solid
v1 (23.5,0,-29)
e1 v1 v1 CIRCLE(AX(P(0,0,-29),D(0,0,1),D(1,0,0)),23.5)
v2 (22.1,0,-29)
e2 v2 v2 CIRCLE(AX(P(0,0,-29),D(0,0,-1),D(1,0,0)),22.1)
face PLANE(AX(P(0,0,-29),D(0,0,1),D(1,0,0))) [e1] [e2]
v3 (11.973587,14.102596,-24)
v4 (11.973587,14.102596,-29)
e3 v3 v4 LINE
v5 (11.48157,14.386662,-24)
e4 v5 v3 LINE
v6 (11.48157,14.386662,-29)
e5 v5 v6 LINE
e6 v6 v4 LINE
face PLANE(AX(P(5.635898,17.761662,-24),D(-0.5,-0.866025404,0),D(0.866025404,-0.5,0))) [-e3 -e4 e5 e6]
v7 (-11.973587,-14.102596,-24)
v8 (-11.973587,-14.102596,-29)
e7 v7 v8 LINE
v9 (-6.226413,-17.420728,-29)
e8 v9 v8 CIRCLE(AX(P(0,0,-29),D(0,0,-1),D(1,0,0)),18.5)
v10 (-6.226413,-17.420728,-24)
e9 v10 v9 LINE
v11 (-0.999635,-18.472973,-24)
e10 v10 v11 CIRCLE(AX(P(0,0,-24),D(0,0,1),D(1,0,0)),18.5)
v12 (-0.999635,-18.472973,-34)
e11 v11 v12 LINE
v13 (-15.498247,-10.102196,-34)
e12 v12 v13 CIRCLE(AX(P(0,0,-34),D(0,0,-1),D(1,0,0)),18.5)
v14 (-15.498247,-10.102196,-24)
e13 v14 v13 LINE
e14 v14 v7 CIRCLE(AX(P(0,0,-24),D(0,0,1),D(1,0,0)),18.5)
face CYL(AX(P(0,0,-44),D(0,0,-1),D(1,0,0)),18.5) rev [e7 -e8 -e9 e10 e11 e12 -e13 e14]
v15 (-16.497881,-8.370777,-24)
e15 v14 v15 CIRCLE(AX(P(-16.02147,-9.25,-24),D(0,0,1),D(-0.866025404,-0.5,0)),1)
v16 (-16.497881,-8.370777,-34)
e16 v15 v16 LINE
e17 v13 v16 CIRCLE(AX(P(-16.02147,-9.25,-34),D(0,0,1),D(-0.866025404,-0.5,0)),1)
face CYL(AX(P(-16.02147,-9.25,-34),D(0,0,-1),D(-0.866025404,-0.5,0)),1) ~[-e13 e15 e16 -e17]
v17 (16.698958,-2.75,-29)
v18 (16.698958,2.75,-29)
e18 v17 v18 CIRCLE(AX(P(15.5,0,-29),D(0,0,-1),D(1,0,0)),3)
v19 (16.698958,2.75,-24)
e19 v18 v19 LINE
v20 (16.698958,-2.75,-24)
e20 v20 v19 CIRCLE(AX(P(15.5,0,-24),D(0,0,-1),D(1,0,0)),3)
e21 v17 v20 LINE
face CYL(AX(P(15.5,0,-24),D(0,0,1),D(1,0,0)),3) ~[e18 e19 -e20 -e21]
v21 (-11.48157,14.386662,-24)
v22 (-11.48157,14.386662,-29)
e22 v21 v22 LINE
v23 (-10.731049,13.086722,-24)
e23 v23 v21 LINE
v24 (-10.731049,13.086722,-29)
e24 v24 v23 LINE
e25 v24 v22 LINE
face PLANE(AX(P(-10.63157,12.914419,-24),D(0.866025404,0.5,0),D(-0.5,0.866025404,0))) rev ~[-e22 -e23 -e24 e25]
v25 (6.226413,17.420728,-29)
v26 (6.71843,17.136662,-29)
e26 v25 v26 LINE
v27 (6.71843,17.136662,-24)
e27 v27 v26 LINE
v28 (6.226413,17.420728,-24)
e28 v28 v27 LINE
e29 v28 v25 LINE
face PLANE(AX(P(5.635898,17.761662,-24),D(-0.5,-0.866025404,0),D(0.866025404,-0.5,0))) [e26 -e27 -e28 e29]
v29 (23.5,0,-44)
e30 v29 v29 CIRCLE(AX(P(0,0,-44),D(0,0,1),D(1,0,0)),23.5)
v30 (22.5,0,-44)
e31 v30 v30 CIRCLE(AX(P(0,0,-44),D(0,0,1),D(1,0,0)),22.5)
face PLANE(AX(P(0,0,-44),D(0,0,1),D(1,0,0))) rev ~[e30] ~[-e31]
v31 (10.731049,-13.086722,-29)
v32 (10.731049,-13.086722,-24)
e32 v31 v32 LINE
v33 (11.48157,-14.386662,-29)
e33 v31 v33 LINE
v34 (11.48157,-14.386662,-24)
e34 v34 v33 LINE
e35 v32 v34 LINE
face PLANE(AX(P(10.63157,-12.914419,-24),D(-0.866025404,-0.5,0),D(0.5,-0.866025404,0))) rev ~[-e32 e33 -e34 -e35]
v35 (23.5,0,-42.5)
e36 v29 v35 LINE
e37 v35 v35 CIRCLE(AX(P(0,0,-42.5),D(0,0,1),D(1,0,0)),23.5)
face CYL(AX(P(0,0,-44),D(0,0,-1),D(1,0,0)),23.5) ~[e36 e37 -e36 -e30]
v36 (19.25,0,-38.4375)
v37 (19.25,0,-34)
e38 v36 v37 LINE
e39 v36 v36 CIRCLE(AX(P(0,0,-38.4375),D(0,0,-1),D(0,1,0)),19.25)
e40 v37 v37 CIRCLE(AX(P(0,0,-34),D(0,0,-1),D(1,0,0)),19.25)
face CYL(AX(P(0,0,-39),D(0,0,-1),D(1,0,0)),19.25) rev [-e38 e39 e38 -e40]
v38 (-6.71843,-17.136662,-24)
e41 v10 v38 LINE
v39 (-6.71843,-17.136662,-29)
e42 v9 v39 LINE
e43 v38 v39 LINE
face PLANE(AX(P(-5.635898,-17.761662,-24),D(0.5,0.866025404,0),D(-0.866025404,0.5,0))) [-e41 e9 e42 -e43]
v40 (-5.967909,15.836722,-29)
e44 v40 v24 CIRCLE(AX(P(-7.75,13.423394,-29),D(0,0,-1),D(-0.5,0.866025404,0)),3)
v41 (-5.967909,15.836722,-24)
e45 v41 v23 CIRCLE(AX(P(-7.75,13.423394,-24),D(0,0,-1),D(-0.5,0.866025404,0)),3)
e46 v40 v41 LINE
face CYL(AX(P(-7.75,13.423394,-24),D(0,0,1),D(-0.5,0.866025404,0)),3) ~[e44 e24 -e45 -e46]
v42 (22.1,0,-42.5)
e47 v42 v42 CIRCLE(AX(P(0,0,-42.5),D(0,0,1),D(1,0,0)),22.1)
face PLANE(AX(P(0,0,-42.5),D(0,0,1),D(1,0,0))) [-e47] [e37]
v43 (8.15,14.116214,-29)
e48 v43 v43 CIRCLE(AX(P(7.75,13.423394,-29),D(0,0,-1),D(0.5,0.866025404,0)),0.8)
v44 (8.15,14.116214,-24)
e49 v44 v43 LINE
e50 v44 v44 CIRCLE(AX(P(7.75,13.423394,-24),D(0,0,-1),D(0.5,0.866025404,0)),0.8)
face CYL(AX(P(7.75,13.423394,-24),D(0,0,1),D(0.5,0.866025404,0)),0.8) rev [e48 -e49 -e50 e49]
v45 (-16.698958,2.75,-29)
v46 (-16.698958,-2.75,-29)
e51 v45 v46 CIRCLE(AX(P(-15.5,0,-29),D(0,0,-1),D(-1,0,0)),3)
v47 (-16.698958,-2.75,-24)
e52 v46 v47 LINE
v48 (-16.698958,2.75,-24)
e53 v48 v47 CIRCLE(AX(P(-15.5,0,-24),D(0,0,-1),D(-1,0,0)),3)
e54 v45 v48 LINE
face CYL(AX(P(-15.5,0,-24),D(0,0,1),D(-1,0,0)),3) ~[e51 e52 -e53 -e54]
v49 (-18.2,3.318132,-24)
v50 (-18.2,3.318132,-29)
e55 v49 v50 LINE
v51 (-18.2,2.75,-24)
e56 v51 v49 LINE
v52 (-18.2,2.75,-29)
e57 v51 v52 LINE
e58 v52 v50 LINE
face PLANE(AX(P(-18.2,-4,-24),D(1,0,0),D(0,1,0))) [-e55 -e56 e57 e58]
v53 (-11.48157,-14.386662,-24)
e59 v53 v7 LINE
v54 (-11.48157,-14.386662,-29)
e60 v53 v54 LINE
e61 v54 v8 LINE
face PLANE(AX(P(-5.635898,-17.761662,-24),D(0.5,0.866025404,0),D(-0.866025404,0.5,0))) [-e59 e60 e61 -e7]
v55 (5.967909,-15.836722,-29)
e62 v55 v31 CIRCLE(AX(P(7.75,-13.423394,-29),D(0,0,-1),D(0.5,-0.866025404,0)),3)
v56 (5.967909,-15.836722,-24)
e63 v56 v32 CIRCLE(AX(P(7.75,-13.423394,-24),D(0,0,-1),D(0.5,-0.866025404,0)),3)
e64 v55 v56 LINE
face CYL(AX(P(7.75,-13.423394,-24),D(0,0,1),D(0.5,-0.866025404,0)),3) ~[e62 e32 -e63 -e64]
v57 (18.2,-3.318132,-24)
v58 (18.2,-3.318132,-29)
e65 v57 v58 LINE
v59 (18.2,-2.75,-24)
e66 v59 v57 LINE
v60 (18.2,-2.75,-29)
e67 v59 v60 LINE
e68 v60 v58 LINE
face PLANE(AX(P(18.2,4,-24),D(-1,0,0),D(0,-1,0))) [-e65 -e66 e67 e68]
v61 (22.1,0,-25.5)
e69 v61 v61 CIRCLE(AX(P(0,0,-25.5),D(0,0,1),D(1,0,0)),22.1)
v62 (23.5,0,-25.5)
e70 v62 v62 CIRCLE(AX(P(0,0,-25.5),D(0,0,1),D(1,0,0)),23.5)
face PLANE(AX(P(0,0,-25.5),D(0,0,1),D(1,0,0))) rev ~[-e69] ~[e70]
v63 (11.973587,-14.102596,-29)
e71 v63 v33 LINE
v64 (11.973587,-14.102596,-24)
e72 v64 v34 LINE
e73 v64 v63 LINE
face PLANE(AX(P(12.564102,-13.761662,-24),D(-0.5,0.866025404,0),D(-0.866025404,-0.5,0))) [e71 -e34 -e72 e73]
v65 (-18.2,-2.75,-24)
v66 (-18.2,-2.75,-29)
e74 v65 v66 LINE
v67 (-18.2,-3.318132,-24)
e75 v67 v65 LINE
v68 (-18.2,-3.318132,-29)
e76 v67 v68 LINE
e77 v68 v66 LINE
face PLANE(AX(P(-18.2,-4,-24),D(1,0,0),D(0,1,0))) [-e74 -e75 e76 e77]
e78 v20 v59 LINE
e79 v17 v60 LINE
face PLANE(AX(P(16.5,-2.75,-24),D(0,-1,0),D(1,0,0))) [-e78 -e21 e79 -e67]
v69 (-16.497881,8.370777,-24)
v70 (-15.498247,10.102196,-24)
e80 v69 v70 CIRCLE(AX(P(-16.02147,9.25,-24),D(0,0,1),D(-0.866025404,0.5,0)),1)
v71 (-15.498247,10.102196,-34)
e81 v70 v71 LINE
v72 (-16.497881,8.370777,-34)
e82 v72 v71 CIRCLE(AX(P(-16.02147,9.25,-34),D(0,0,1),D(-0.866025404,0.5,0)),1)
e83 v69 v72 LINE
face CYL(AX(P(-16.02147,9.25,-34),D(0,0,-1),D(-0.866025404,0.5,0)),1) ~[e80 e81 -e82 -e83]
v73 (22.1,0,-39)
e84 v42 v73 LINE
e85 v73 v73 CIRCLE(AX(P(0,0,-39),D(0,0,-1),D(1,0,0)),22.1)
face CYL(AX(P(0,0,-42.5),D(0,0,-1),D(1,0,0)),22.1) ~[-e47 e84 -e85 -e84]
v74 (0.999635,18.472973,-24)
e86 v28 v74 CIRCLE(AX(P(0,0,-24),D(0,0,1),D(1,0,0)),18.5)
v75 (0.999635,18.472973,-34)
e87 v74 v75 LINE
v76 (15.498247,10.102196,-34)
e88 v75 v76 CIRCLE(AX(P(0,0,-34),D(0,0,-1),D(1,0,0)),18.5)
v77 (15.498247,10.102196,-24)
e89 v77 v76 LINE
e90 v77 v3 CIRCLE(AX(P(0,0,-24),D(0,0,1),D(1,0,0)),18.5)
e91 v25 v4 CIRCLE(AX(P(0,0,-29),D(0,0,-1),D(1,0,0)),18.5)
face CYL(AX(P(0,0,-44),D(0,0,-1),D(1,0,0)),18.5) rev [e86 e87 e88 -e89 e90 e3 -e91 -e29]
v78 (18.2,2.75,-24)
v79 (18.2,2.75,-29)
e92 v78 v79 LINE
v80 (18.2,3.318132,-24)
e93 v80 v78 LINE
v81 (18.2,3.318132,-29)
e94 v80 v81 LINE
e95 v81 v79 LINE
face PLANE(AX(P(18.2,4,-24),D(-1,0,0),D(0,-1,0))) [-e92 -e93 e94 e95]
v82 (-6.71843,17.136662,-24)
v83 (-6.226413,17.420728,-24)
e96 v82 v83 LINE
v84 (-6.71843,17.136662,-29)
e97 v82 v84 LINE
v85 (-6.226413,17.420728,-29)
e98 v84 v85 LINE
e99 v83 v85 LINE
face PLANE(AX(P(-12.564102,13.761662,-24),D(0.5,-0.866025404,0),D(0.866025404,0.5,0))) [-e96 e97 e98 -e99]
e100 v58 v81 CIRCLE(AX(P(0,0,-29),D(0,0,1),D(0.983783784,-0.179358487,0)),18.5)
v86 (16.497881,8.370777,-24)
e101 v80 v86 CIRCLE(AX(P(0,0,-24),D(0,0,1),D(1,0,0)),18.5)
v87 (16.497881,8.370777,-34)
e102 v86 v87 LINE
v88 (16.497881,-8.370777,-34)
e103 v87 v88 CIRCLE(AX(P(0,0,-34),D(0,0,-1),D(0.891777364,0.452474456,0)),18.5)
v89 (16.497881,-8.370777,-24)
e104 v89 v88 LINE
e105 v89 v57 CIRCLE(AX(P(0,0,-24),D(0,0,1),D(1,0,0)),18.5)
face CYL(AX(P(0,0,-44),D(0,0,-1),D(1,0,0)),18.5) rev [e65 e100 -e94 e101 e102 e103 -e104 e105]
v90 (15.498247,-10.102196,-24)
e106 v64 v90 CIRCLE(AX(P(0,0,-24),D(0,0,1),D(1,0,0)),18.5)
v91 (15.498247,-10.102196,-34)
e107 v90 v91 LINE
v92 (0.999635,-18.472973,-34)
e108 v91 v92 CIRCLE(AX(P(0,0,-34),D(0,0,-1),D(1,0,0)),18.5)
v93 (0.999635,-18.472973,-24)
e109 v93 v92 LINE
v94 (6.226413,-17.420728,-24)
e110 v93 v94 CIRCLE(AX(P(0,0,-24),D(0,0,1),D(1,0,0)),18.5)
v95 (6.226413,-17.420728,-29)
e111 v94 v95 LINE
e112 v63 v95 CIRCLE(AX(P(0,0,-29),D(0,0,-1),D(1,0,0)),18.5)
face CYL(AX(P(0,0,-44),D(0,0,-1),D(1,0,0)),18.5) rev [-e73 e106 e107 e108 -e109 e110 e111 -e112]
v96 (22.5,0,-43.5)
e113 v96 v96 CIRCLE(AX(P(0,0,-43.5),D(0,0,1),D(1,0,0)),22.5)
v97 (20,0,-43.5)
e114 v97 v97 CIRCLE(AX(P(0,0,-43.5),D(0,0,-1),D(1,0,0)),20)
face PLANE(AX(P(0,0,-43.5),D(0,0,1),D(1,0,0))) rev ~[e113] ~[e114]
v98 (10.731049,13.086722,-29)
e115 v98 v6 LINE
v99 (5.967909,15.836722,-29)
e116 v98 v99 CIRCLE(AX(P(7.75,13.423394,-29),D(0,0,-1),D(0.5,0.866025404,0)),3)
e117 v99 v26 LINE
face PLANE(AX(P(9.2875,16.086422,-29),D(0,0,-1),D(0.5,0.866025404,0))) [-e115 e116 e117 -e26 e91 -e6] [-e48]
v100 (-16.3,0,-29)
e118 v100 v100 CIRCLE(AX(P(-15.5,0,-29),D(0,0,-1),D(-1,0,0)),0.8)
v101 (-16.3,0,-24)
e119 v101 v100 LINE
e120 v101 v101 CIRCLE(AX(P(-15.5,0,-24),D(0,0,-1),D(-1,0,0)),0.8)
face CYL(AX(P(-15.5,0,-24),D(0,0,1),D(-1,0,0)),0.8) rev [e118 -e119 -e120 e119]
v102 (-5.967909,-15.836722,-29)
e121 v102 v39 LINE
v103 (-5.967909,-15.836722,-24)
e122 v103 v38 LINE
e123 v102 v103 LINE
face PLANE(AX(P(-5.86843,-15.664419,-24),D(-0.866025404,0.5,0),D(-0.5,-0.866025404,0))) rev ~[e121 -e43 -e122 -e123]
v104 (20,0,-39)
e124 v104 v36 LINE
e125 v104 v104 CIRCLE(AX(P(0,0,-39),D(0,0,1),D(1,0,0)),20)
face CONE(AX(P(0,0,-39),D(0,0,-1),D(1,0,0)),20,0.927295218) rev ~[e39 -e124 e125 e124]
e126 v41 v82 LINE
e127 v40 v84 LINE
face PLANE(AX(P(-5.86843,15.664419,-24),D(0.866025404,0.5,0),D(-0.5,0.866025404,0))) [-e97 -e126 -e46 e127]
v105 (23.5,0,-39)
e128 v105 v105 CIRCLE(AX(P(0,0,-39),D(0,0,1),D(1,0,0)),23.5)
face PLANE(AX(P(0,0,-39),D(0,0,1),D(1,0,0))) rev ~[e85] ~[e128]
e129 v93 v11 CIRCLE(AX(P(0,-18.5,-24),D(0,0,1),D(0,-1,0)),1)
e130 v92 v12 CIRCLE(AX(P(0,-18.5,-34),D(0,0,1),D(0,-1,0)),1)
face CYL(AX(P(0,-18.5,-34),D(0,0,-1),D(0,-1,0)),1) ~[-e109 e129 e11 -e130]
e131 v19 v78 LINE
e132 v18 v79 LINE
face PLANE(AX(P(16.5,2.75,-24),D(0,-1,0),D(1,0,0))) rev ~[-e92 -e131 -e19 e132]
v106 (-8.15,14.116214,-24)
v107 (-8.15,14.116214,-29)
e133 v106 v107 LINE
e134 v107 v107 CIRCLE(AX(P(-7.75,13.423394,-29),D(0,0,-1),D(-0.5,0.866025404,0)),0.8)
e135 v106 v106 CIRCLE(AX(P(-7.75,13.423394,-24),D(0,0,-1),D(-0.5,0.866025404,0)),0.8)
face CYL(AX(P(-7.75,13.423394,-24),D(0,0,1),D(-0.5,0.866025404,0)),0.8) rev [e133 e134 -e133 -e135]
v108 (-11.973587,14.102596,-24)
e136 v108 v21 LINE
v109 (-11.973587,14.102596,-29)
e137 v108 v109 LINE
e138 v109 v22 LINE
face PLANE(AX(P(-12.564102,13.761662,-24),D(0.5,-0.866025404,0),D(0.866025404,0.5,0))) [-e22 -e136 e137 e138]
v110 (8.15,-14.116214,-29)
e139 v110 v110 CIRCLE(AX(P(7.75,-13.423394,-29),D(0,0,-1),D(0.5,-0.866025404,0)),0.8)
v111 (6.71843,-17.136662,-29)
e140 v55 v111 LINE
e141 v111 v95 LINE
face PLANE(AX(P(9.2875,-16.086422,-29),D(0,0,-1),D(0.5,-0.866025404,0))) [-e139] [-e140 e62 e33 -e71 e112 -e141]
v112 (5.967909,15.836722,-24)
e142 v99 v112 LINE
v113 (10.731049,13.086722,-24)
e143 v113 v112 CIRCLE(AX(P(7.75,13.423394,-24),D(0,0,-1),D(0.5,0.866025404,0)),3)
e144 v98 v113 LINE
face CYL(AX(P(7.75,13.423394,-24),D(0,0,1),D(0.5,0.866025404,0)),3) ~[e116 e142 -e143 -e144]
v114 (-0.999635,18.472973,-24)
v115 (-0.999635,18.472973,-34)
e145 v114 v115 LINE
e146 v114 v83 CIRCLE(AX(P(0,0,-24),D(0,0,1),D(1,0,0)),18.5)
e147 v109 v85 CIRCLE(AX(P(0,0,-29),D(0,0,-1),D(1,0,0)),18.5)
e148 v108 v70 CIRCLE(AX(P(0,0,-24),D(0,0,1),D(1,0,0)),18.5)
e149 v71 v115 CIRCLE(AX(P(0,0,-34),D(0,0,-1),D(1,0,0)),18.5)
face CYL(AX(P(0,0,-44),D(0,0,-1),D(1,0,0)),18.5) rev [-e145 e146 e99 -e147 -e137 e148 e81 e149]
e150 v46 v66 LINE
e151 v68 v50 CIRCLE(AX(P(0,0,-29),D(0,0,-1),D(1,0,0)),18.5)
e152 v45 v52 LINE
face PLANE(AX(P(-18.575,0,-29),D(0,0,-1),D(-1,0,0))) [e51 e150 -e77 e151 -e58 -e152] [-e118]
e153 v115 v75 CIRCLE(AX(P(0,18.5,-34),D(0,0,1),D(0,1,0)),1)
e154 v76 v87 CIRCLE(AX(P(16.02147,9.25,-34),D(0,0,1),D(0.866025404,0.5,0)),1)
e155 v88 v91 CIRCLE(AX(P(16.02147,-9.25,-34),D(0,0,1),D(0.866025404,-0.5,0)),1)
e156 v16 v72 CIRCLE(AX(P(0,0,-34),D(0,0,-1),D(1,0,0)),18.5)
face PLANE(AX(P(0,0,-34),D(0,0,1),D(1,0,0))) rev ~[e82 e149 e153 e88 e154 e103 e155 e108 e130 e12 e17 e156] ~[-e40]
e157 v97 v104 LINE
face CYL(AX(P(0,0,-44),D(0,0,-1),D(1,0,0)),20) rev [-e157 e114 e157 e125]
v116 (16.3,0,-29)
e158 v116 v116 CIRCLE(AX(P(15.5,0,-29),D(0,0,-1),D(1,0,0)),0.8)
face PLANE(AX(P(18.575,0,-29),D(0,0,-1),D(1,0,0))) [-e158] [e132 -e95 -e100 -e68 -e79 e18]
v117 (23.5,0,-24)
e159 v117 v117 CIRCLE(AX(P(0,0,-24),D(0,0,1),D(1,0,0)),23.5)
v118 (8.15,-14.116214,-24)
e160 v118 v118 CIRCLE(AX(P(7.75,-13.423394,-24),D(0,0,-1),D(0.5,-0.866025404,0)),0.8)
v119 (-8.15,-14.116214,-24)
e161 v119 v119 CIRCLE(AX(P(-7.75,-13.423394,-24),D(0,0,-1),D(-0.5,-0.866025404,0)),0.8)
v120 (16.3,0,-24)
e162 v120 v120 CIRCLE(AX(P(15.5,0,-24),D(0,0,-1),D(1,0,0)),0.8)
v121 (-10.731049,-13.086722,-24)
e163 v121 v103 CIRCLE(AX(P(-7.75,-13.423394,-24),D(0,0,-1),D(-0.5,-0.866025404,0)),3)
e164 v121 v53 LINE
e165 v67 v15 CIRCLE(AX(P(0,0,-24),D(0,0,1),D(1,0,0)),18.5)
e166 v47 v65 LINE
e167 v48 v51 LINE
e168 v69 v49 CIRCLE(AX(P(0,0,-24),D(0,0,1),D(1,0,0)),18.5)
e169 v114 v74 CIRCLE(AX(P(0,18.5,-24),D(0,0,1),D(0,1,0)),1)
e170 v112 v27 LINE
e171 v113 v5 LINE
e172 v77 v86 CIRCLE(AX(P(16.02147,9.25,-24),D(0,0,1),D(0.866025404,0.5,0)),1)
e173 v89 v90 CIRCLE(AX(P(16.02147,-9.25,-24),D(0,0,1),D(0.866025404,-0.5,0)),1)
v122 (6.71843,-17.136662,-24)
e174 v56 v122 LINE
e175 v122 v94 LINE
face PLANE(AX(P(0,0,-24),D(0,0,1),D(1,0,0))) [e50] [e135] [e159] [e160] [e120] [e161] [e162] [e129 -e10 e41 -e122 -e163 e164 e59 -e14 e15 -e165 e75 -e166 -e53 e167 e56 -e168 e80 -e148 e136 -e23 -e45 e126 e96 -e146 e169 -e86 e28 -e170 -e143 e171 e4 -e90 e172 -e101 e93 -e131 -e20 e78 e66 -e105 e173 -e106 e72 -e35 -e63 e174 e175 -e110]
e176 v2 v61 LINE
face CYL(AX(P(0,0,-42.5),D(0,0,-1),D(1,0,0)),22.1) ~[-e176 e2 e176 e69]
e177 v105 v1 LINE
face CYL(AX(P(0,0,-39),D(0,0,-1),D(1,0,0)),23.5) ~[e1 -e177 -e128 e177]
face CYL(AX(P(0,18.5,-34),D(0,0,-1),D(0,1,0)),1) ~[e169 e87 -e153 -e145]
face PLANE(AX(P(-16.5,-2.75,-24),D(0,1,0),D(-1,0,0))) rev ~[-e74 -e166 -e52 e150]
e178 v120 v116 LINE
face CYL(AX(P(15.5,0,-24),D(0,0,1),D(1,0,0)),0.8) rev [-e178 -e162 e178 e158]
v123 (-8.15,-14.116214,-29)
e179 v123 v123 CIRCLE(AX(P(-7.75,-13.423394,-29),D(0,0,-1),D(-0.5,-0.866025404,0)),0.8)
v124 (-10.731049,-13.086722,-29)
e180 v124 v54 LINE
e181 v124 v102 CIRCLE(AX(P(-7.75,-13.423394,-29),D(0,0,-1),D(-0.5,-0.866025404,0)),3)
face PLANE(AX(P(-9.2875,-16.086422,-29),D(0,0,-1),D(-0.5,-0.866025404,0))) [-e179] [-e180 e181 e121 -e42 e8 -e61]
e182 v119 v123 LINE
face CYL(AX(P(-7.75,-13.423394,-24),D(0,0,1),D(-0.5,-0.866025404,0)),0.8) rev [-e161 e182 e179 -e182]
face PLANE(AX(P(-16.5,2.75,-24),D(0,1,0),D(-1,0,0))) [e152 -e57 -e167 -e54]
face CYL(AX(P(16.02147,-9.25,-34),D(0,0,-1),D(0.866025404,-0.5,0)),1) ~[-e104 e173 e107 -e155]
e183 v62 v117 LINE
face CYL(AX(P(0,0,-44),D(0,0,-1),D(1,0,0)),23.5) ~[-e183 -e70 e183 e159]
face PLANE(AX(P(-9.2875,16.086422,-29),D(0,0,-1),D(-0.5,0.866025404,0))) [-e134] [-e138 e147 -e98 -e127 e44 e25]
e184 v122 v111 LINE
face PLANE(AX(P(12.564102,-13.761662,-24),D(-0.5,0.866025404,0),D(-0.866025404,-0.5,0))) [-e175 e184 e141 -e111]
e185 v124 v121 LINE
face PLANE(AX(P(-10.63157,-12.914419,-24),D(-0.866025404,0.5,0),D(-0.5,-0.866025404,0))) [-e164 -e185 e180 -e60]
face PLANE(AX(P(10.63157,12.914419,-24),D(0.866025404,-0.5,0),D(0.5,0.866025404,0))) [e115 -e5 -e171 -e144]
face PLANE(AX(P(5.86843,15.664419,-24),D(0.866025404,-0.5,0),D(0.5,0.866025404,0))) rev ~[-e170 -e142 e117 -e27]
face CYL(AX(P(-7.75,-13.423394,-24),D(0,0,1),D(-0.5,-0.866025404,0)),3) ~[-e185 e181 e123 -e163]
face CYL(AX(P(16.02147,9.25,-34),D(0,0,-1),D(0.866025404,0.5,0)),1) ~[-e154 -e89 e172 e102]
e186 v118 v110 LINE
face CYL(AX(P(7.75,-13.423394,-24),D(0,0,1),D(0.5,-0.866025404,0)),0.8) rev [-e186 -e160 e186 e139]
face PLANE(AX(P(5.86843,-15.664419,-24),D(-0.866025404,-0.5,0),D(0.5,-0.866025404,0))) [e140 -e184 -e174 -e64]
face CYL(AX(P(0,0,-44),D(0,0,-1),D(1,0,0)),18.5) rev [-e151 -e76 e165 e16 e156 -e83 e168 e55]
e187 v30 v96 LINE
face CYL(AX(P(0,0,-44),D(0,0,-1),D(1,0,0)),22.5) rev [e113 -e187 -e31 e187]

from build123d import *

# Parameters (mm, degrees)
CYLINDER101_R               = 0.8
CYLINDER101_DEPTH           = 5
BOX013_W                    = 2
BOX013_H                    = 5.5
BOX013_DEPTH                = 5
BOX012_W                    = 0.75
BOX012_H                    = 8
BOX012_DEPTH                = 5
CYLINDER100_R               = 3
CYLINDER100_DEPTH           = 5
CUT064_PLACEMENT_ANGLE      = 120
CYLINDER104_R               = 0.8
CYLINDER104_DEPTH           = 5
CUT067_PLACEMENT_ANGLE      = 60
CYLINDER102_R               = 0.8
CYLINDER102_DEPTH           = 5
CUT065_PLACEMENT_ANGLE      = 180
CYLINDER106_R               = 0.8
CYLINDER106_DEPTH           = 5
CYLINDER103_R               = 0.8
CYLINDER103_DEPTH           = 5
CUT066_PLACEMENT_ANGLE      = 240
CYLINDER098_R               = 0.8
CYLINDER098_DEPTH           = 5
CUT063_PLACEMENT_ANGLE      = 60
CYLINDER007_R               = 19.25
CYLINDER007_DEPTH           = 5
CYLINDER018_R               = 22.5
CYLINDER018_DEPTH           = 0.5
CYLINDER070_R               = 20
CYLINDER070_DEPTH           = 5
CYLINDER006_R               = 18.5
CYLINDER006_DEPTH           = 20
CYLINDER002_R               = 22.1
CYLINDER002_DEPTH           = 17
CYLINDER001_R               = 23.5
CYLINDER001_DEPTH           = 17
CYLINDER_R                  = 23.5
CYLINDER_DEPTH              = 20
CYLINDER003_R               = 22
CYLINDER003_DEPTH           = 17
CYLINDER004_R               = 23.5
CYLINDER004_DEPTH           = 10
CUT060_PLACEMENT_ANGLE      = 180
FUSION050_PLACEMENT_ANGLE   = 180
CYLINDER073_R               = 1
CYLINDER073_DEPTH           = 10
CYLINDER073_PLACEMENT_ANGLE = 120
CYLINDER075_R               = 1
CYLINDER075_DEPTH           = 10
CYLINDER075_PLACEMENT_ANGLE = 240
CYLINDER072_R               = 1
CYLINDER072_DEPTH           = 10
CYLINDER072_PLACEMENT_ANGLE = 60
CYLINDER074_R               = 1
CYLINDER074_DEPTH           = 10
CYLINDER076_R               = 1
CYLINDER076_DEPTH           = 10
CYLINDER076_PLACEMENT_ANGLE = 60
CYLINDER071_R               = 1
CYLINDER071_DEPTH           = 10
FUSION030_PLACEMENT_ANGLE   = 30


with BuildPart() as cylinder101:
    # Cylinder101 → Cylinder101 (new body)
    with BuildSketch(Plane(origin=(15.5, 0, 15), x_dir=(1, 0, 0), z_dir=(0, 0, 1))):
        Circle(CYLINDER101_R)
    extrude(amount=CYLINDER101_DEPTH)


with BuildPart() as cube013:
    # Box013 → Box013 (new body)
    with BuildSketch(Plane(origin=(16.5, -2.75, 15), x_dir=(1, 0, 0), z_dir=(0, 0, 1))):
        with Locations((1, 2.75)):
            Rectangle(BOX013_W, BOX013_H)
    extrude(amount=BOX013_DEPTH)


with BuildPart() as cube012:
    # Box012 → Box012 (new body)
    with BuildSketch(Plane(origin=(18.2, -4, 15), x_dir=(1, 0, 0), z_dir=(0, 0, 1))):
        with Locations((0.375, 4)):
            Rectangle(BOX012_W, BOX012_H)
    extrude(amount=BOX012_DEPTH)


with BuildPart() as cylinder100:
    # Cylinder100 → Cylinder100 (new body)
    with BuildSketch(Plane(origin=(15.5, 0, 15), x_dir=(1, 0, 0), z_dir=(0, 0, 1))):
        Circle(CYLINDER100_R)
    extrude(amount=CYLINDER100_DEPTH)


with BuildPart() as cut064:
    # Fusion043 base: copy of Cylinder100
    add(cylinder100.part)

    # Fusion043: union Cube013, Cube012
    add(cube013.part)
    add(cube012.part)

    # Cut064: cut Cylinder101
    add(cylinder101.part, mode=Mode.SUBTRACT)


with BuildPart() as cut064_1:
    # Cut064 placement: moved
    add(cut064.part.moved(Location((0, 0, 9))).rotate(Axis((0, 0, 9), (0, 0, 1)), CUT064_PLACEMENT_ANGLE))


with BuildPart() as cylinder104:
    # Cylinder104 → Cylinder104 (new body)
    with BuildSketch(Plane(origin=(15.5, 0, 15), x_dir=(1, 0, 0), z_dir=(0, 0, 1))):
        Circle(CYLINDER104_R)
    extrude(amount=CYLINDER104_DEPTH)


with BuildPart() as cut067:
    # Fusion046 base: copy of Cylinder100
    add(cylinder100.part)

    # Fusion046: union Cube013, Cube012
    add(cube013.part)
    add(cube012.part)

    # Cut067: cut Cylinder104
    add(cylinder104.part, mode=Mode.SUBTRACT)


with BuildPart() as cut067_1:
    # Cut067 placement: moved
    add(cut067.part.moved(Location((0, 0, 9))).rotate(Axis((0, 0, 9), (0, 0, -1)), CUT067_PLACEMENT_ANGLE))


with BuildPart() as cylinder102:
    # Cylinder102 → Cylinder102 (new body)
    with BuildSketch(Plane(origin=(15.5, 0, 15), x_dir=(1, 0, 0), z_dir=(0, 0, 1))):
        Circle(CYLINDER102_R)
    extrude(amount=CYLINDER102_DEPTH)


with BuildPart() as cut065:
    # Fusion044 base: copy of Cylinder100
    add(cylinder100.part)

    # Fusion044: union Cube013, Cube012
    add(cube013.part)
    add(cube012.part)

    # Cut065: cut Cylinder102
    add(cylinder102.part, mode=Mode.SUBTRACT)


with BuildPart() as cut065_1:
    # Cut065 placement: moved
    add(cut065.part.moved(Location((0, 0, 9))).rotate(Axis((0, 0, 9), (0, 0, 1)), CUT065_PLACEMENT_ANGLE))


with BuildPart() as cylinder106:
    # Cylinder106 → Cylinder106 (new body)
    with BuildSketch(Plane(origin=(15.5, 0, 15), x_dir=(1, 0, 0), z_dir=(0, 0, 1))):
        Circle(CYLINDER106_R)
    extrude(amount=CYLINDER106_DEPTH)


with BuildPart() as cut069:
    # Fusion048 base: copy of Cylinder100
    add(cylinder100.part)

    # Fusion048: union Cube013, Cube012
    add(cube013.part)
    add(cube012.part)

    # Cut069: cut Cylinder106
    add(cylinder106.part, mode=Mode.SUBTRACT)


with BuildPart() as cut069_1:
    # Cut069 placement: moved
    add(cut069.part.moved(Location((0, 0, 9))))


with BuildPart() as cylinder103:
    # Cylinder103 → Cylinder103 (new body)
    with BuildSketch(Plane(origin=(15.5, 0, 15), x_dir=(1, 0, 0), z_dir=(0, 0, 1))):
        Circle(CYLINDER103_R)
    extrude(amount=CYLINDER103_DEPTH)


with BuildPart() as cut066:
    # Fusion045 base: copy of Cylinder100
    add(cylinder100.part)

    # Fusion045: union Cube013, Cube012
    add(cube013.part)
    add(cube012.part)

    # Cut066: cut Cylinder103
    add(cylinder103.part, mode=Mode.SUBTRACT)


with BuildPart() as cut066_1:
    # Cut066 placement: moved
    add(cut066.part.moved(Location((0, 0, 9))).rotate(Axis((0, 0, 9), (0, 0, 1)), CUT066_PLACEMENT_ANGLE))


with BuildPart() as cylinder098:
    # Cylinder098 → Cylinder098 (new body)
    with BuildSketch(Plane(origin=(15.5, 0, 15), x_dir=(1, 0, 0), z_dir=(0, 0, 1))):
        Circle(CYLINDER098_R)
    extrude(amount=CYLINDER098_DEPTH)


with BuildPart() as fusion049:
    # Fusion042 base: copy of Cylinder100
    add(cylinder100.part)

    # Fusion042: union Cube013, Cube012
    add(cube013.part)
    add(cube012.part)

    # Cut063: cut Cylinder098
    add(cylinder098.part, mode=Mode.SUBTRACT)


with BuildPart() as fusion049_1:
    # Cut063 placement: moved
    add(fusion049.part.moved(Location((0, 0, 9))).rotate(Axis((0, 0, 9), (0, 0, 1)), CUT063_PLACEMENT_ANGLE))

    # Fusion049: union Cut064, Cut067, Cut065, Cut069, Cut066
    add(cut064_1.part)
    add(cut067_1.part)
    add(cut065_1.part)
    add(cut069_1.part)
    add(cut066_1.part)


with BuildPart() as cylinder007:
    # Cylinder007 → Cylinder007 (new body)
    with BuildSketch(Plane.XY.offset(5)):
        Circle(CYLINDER007_R)
    extrude(amount=CYLINDER007_DEPTH)


with BuildPart() as cone:
    # Cone → Cone (revolve)
    with BuildSketch(Plane(origin=(0, 0, 5), x_dir=(1, 0, 0), z_dir=(0, -1, 0))):
        Polygon((0, 0), (20, 0), (12, 6), (0, 6), align=None)
    revolve(axis=Axis((0, 0, 5), (0, 0, 1)))


with BuildPart() as cylinder018:
    # Cylinder018 → Cylinder018 (new body)
    with BuildSketch(Plane.XY):
        Circle(CYLINDER018_R)
    extrude(amount=CYLINDER018_DEPTH)


with BuildPart() as cylinder070:
    # Cylinder070 → Cylinder070 (new body)
    with BuildSketch(Plane.XY):
        Circle(CYLINDER070_R)
    extrude(amount=CYLINDER070_DEPTH)


with BuildPart() as cylinder006:
    # Cylinder006 → Cylinder006 (new body)
    with BuildSketch(Plane.XY):
        Circle(CYLINDER006_R)
    extrude(amount=CYLINDER006_DEPTH)


with BuildPart() as cylinder002:
    # Cylinder002 → Cylinder002 (new body)
    with BuildSketch(Plane.XY):
        Circle(CYLINDER002_R)
    extrude(amount=CYLINDER002_DEPTH)


with BuildPart() as cut:
    # Cylinder001 → Cylinder001 (new body)
    with BuildSketch(Plane.XY):
        Circle(CYLINDER001_R)
    extrude(amount=CYLINDER001_DEPTH)

    # Cut: cut Cylinder002
    add(cylinder002.part, mode=Mode.SUBTRACT)


with BuildPart() as cut_1:
    # Cut placement: moved
    add(cut.part.moved(Location((0, 0, 1.5))))


with BuildPart() as cut001:
    # Cylinder → Cylinder (new body)
    with BuildSketch(Plane.XY):
        Circle(CYLINDER_R)
    extrude(amount=CYLINDER_DEPTH)

    # Cut001: cut Cut
    add(cut_1.part, mode=Mode.SUBTRACT)


with BuildPart() as cylinder003:
    # Cylinder003 → Cylinder003 (new body)
    with BuildSketch(Plane.XY):
        Circle(CYLINDER003_R)
    extrude(amount=CYLINDER003_DEPTH)


with BuildPart() as rim_inner_rear:
    # Cylinder004 → Cylinder004 (new body)
    with BuildSketch(Plane.XY.offset(0.5)):
        Circle(CYLINDER004_R)
    extrude(amount=CYLINDER004_DEPTH)

    # Cut002: cut Cylinder003
    add(cylinder003.part, mode=Mode.SUBTRACT)


with BuildPart() as rim_inner_rear_1:
    # Cut002 placement: moved
    add(rim_inner_rear.part.moved(Location((0, 0, 4.5))))

    # Fusion: union Cut001
    add(cut001.part)

    # Cut031: cut Cylinder006
    add(cylinder006.part, mode=Mode.SUBTRACT)

    # Cut057: cut Cylinder070
    add(cylinder070.part, mode=Mode.SUBTRACT)

    # Cut058: cut Cylinder018
    add(cylinder018.part, mode=Mode.SUBTRACT)

    # Cut059: cut Cone
    add(cone.part, mode=Mode.SUBTRACT)

    # Cut060: cut Cylinder007
    add(cylinder007.part, mode=Mode.SUBTRACT)


with BuildPart() as rim_inner_rear_2:
    # Cut060 placement: moved
    add(rim_inner_rear_1.part.moved(Location((0, 0, 44))).rotate(Axis((0, 0, 44), (0, 1, 0)), CUT060_PLACEMENT_ANGLE))

    # Fusion050: union Fusion049
    add(fusion049_1.part)


with BuildPart() as rim_inner_rear_3:
    # Fusion050 placement: moved
    add(rim_inner_rear_2.part.rotate(Axis((0, 0, 0), (0, 1, 0)), FUSION050_PLACEMENT_ANGLE))


with BuildPart() as cylinder073:
    # Cylinder073 → Cylinder073 (new body)
    with BuildSketch(Plane.XY):
        Circle(CYLINDER073_R)
    extrude(amount=CYLINDER073_DEPTH)


with BuildPart() as cylinder073_1:
    # Cylinder073 placement: moved
    add(cylinder073.part.moved(Location((-9.25, 16.02147, 5))).rotate(Axis((-9.25, 16.02147, 5), (0, 0, 1)), CYLINDER073_PLACEMENT_ANGLE))


with BuildPart() as cylinder075:
    # Cylinder075 → Cylinder075 (new body)
    with BuildSketch(Plane.XY):
        Circle(CYLINDER075_R)
    extrude(amount=CYLINDER075_DEPTH)


with BuildPart() as cylinder075_1:
    # Cylinder075 placement: moved
    add(cylinder075.part.moved(Location((-9.25, -16.02147, 5))).rotate(Axis((-9.25, -16.02147, 5), (0, 0, 1)), CYLINDER075_PLACEMENT_ANGLE))


with BuildPart() as cylinder072:
    # Cylinder072 → Cylinder072 (new body)
    with BuildSketch(Plane.XY):
        Circle(CYLINDER072_R)
    extrude(amount=CYLINDER072_DEPTH)


with BuildPart() as cylinder072_1:
    # Cylinder072 placement: moved
    add(cylinder072.part.moved(Location((9.25, 16.02147, 5))).rotate(Axis((9.25, 16.02147, 5), (0, 0, 1)), CYLINDER072_PLACEMENT_ANGLE))


with BuildPart() as cylinder074:
    # Cylinder074 → Cylinder074 (new body)
    with BuildSketch(Plane(origin=(-18.5, 0, 5), x_dir=(-1, 0, 0), z_dir=(0, 0, 1))):
        Circle(CYLINDER074_R)
    extrude(amount=CYLINDER074_DEPTH)


with BuildPart() as cylinder076:
    # Cylinder076 → Cylinder076 (new body)
    with BuildSketch(Plane.XY):
        Circle(CYLINDER076_R)
    extrude(amount=CYLINDER076_DEPTH)


with BuildPart() as cylinder076_1:
    # Cylinder076 placement: moved
    add(cylinder076.part.moved(Location((9.25, -16.02147, 5))).rotate(Axis((9.25, -16.02147, 5), (0, 0, -1)), CYLINDER076_PLACEMENT_ANGLE))


with BuildPart() as trilex_rear_rim_inner:
    # Cylinder071 → Cylinder071 (new body)
    with BuildSketch(Plane(origin=(18.5, 0, 5), x_dir=(1, 0, 0), z_dir=(0, 0, 1))):
        Circle(CYLINDER071_R)
    extrude(amount=CYLINDER071_DEPTH)

    # Fusion030: union Cylinder073, Cylinder075, Cylinder072, Cylinder074, Cylinder076
    add(cylinder073_1.part)
    add(cylinder075_1.part)
    add(cylinder072_1.part)
    add(cylinder074.part)
    add(cylinder076_1.part)


with BuildPart() as trilex_rear_rim_inner_1:
    # Fusion030 placement: moved
    add(trilex_rear_rim_inner.part.moved(Location((0, 0, -39))).rotate(Axis((0, 0, -39), (0, 0, 1)), FUSION030_PLACEMENT_ANGLE))

    # Fusion070: union rim-inner-rear_
    add(rim_inner_rear_3.part)


solid = trilex_rear_rim_inner_1.part
